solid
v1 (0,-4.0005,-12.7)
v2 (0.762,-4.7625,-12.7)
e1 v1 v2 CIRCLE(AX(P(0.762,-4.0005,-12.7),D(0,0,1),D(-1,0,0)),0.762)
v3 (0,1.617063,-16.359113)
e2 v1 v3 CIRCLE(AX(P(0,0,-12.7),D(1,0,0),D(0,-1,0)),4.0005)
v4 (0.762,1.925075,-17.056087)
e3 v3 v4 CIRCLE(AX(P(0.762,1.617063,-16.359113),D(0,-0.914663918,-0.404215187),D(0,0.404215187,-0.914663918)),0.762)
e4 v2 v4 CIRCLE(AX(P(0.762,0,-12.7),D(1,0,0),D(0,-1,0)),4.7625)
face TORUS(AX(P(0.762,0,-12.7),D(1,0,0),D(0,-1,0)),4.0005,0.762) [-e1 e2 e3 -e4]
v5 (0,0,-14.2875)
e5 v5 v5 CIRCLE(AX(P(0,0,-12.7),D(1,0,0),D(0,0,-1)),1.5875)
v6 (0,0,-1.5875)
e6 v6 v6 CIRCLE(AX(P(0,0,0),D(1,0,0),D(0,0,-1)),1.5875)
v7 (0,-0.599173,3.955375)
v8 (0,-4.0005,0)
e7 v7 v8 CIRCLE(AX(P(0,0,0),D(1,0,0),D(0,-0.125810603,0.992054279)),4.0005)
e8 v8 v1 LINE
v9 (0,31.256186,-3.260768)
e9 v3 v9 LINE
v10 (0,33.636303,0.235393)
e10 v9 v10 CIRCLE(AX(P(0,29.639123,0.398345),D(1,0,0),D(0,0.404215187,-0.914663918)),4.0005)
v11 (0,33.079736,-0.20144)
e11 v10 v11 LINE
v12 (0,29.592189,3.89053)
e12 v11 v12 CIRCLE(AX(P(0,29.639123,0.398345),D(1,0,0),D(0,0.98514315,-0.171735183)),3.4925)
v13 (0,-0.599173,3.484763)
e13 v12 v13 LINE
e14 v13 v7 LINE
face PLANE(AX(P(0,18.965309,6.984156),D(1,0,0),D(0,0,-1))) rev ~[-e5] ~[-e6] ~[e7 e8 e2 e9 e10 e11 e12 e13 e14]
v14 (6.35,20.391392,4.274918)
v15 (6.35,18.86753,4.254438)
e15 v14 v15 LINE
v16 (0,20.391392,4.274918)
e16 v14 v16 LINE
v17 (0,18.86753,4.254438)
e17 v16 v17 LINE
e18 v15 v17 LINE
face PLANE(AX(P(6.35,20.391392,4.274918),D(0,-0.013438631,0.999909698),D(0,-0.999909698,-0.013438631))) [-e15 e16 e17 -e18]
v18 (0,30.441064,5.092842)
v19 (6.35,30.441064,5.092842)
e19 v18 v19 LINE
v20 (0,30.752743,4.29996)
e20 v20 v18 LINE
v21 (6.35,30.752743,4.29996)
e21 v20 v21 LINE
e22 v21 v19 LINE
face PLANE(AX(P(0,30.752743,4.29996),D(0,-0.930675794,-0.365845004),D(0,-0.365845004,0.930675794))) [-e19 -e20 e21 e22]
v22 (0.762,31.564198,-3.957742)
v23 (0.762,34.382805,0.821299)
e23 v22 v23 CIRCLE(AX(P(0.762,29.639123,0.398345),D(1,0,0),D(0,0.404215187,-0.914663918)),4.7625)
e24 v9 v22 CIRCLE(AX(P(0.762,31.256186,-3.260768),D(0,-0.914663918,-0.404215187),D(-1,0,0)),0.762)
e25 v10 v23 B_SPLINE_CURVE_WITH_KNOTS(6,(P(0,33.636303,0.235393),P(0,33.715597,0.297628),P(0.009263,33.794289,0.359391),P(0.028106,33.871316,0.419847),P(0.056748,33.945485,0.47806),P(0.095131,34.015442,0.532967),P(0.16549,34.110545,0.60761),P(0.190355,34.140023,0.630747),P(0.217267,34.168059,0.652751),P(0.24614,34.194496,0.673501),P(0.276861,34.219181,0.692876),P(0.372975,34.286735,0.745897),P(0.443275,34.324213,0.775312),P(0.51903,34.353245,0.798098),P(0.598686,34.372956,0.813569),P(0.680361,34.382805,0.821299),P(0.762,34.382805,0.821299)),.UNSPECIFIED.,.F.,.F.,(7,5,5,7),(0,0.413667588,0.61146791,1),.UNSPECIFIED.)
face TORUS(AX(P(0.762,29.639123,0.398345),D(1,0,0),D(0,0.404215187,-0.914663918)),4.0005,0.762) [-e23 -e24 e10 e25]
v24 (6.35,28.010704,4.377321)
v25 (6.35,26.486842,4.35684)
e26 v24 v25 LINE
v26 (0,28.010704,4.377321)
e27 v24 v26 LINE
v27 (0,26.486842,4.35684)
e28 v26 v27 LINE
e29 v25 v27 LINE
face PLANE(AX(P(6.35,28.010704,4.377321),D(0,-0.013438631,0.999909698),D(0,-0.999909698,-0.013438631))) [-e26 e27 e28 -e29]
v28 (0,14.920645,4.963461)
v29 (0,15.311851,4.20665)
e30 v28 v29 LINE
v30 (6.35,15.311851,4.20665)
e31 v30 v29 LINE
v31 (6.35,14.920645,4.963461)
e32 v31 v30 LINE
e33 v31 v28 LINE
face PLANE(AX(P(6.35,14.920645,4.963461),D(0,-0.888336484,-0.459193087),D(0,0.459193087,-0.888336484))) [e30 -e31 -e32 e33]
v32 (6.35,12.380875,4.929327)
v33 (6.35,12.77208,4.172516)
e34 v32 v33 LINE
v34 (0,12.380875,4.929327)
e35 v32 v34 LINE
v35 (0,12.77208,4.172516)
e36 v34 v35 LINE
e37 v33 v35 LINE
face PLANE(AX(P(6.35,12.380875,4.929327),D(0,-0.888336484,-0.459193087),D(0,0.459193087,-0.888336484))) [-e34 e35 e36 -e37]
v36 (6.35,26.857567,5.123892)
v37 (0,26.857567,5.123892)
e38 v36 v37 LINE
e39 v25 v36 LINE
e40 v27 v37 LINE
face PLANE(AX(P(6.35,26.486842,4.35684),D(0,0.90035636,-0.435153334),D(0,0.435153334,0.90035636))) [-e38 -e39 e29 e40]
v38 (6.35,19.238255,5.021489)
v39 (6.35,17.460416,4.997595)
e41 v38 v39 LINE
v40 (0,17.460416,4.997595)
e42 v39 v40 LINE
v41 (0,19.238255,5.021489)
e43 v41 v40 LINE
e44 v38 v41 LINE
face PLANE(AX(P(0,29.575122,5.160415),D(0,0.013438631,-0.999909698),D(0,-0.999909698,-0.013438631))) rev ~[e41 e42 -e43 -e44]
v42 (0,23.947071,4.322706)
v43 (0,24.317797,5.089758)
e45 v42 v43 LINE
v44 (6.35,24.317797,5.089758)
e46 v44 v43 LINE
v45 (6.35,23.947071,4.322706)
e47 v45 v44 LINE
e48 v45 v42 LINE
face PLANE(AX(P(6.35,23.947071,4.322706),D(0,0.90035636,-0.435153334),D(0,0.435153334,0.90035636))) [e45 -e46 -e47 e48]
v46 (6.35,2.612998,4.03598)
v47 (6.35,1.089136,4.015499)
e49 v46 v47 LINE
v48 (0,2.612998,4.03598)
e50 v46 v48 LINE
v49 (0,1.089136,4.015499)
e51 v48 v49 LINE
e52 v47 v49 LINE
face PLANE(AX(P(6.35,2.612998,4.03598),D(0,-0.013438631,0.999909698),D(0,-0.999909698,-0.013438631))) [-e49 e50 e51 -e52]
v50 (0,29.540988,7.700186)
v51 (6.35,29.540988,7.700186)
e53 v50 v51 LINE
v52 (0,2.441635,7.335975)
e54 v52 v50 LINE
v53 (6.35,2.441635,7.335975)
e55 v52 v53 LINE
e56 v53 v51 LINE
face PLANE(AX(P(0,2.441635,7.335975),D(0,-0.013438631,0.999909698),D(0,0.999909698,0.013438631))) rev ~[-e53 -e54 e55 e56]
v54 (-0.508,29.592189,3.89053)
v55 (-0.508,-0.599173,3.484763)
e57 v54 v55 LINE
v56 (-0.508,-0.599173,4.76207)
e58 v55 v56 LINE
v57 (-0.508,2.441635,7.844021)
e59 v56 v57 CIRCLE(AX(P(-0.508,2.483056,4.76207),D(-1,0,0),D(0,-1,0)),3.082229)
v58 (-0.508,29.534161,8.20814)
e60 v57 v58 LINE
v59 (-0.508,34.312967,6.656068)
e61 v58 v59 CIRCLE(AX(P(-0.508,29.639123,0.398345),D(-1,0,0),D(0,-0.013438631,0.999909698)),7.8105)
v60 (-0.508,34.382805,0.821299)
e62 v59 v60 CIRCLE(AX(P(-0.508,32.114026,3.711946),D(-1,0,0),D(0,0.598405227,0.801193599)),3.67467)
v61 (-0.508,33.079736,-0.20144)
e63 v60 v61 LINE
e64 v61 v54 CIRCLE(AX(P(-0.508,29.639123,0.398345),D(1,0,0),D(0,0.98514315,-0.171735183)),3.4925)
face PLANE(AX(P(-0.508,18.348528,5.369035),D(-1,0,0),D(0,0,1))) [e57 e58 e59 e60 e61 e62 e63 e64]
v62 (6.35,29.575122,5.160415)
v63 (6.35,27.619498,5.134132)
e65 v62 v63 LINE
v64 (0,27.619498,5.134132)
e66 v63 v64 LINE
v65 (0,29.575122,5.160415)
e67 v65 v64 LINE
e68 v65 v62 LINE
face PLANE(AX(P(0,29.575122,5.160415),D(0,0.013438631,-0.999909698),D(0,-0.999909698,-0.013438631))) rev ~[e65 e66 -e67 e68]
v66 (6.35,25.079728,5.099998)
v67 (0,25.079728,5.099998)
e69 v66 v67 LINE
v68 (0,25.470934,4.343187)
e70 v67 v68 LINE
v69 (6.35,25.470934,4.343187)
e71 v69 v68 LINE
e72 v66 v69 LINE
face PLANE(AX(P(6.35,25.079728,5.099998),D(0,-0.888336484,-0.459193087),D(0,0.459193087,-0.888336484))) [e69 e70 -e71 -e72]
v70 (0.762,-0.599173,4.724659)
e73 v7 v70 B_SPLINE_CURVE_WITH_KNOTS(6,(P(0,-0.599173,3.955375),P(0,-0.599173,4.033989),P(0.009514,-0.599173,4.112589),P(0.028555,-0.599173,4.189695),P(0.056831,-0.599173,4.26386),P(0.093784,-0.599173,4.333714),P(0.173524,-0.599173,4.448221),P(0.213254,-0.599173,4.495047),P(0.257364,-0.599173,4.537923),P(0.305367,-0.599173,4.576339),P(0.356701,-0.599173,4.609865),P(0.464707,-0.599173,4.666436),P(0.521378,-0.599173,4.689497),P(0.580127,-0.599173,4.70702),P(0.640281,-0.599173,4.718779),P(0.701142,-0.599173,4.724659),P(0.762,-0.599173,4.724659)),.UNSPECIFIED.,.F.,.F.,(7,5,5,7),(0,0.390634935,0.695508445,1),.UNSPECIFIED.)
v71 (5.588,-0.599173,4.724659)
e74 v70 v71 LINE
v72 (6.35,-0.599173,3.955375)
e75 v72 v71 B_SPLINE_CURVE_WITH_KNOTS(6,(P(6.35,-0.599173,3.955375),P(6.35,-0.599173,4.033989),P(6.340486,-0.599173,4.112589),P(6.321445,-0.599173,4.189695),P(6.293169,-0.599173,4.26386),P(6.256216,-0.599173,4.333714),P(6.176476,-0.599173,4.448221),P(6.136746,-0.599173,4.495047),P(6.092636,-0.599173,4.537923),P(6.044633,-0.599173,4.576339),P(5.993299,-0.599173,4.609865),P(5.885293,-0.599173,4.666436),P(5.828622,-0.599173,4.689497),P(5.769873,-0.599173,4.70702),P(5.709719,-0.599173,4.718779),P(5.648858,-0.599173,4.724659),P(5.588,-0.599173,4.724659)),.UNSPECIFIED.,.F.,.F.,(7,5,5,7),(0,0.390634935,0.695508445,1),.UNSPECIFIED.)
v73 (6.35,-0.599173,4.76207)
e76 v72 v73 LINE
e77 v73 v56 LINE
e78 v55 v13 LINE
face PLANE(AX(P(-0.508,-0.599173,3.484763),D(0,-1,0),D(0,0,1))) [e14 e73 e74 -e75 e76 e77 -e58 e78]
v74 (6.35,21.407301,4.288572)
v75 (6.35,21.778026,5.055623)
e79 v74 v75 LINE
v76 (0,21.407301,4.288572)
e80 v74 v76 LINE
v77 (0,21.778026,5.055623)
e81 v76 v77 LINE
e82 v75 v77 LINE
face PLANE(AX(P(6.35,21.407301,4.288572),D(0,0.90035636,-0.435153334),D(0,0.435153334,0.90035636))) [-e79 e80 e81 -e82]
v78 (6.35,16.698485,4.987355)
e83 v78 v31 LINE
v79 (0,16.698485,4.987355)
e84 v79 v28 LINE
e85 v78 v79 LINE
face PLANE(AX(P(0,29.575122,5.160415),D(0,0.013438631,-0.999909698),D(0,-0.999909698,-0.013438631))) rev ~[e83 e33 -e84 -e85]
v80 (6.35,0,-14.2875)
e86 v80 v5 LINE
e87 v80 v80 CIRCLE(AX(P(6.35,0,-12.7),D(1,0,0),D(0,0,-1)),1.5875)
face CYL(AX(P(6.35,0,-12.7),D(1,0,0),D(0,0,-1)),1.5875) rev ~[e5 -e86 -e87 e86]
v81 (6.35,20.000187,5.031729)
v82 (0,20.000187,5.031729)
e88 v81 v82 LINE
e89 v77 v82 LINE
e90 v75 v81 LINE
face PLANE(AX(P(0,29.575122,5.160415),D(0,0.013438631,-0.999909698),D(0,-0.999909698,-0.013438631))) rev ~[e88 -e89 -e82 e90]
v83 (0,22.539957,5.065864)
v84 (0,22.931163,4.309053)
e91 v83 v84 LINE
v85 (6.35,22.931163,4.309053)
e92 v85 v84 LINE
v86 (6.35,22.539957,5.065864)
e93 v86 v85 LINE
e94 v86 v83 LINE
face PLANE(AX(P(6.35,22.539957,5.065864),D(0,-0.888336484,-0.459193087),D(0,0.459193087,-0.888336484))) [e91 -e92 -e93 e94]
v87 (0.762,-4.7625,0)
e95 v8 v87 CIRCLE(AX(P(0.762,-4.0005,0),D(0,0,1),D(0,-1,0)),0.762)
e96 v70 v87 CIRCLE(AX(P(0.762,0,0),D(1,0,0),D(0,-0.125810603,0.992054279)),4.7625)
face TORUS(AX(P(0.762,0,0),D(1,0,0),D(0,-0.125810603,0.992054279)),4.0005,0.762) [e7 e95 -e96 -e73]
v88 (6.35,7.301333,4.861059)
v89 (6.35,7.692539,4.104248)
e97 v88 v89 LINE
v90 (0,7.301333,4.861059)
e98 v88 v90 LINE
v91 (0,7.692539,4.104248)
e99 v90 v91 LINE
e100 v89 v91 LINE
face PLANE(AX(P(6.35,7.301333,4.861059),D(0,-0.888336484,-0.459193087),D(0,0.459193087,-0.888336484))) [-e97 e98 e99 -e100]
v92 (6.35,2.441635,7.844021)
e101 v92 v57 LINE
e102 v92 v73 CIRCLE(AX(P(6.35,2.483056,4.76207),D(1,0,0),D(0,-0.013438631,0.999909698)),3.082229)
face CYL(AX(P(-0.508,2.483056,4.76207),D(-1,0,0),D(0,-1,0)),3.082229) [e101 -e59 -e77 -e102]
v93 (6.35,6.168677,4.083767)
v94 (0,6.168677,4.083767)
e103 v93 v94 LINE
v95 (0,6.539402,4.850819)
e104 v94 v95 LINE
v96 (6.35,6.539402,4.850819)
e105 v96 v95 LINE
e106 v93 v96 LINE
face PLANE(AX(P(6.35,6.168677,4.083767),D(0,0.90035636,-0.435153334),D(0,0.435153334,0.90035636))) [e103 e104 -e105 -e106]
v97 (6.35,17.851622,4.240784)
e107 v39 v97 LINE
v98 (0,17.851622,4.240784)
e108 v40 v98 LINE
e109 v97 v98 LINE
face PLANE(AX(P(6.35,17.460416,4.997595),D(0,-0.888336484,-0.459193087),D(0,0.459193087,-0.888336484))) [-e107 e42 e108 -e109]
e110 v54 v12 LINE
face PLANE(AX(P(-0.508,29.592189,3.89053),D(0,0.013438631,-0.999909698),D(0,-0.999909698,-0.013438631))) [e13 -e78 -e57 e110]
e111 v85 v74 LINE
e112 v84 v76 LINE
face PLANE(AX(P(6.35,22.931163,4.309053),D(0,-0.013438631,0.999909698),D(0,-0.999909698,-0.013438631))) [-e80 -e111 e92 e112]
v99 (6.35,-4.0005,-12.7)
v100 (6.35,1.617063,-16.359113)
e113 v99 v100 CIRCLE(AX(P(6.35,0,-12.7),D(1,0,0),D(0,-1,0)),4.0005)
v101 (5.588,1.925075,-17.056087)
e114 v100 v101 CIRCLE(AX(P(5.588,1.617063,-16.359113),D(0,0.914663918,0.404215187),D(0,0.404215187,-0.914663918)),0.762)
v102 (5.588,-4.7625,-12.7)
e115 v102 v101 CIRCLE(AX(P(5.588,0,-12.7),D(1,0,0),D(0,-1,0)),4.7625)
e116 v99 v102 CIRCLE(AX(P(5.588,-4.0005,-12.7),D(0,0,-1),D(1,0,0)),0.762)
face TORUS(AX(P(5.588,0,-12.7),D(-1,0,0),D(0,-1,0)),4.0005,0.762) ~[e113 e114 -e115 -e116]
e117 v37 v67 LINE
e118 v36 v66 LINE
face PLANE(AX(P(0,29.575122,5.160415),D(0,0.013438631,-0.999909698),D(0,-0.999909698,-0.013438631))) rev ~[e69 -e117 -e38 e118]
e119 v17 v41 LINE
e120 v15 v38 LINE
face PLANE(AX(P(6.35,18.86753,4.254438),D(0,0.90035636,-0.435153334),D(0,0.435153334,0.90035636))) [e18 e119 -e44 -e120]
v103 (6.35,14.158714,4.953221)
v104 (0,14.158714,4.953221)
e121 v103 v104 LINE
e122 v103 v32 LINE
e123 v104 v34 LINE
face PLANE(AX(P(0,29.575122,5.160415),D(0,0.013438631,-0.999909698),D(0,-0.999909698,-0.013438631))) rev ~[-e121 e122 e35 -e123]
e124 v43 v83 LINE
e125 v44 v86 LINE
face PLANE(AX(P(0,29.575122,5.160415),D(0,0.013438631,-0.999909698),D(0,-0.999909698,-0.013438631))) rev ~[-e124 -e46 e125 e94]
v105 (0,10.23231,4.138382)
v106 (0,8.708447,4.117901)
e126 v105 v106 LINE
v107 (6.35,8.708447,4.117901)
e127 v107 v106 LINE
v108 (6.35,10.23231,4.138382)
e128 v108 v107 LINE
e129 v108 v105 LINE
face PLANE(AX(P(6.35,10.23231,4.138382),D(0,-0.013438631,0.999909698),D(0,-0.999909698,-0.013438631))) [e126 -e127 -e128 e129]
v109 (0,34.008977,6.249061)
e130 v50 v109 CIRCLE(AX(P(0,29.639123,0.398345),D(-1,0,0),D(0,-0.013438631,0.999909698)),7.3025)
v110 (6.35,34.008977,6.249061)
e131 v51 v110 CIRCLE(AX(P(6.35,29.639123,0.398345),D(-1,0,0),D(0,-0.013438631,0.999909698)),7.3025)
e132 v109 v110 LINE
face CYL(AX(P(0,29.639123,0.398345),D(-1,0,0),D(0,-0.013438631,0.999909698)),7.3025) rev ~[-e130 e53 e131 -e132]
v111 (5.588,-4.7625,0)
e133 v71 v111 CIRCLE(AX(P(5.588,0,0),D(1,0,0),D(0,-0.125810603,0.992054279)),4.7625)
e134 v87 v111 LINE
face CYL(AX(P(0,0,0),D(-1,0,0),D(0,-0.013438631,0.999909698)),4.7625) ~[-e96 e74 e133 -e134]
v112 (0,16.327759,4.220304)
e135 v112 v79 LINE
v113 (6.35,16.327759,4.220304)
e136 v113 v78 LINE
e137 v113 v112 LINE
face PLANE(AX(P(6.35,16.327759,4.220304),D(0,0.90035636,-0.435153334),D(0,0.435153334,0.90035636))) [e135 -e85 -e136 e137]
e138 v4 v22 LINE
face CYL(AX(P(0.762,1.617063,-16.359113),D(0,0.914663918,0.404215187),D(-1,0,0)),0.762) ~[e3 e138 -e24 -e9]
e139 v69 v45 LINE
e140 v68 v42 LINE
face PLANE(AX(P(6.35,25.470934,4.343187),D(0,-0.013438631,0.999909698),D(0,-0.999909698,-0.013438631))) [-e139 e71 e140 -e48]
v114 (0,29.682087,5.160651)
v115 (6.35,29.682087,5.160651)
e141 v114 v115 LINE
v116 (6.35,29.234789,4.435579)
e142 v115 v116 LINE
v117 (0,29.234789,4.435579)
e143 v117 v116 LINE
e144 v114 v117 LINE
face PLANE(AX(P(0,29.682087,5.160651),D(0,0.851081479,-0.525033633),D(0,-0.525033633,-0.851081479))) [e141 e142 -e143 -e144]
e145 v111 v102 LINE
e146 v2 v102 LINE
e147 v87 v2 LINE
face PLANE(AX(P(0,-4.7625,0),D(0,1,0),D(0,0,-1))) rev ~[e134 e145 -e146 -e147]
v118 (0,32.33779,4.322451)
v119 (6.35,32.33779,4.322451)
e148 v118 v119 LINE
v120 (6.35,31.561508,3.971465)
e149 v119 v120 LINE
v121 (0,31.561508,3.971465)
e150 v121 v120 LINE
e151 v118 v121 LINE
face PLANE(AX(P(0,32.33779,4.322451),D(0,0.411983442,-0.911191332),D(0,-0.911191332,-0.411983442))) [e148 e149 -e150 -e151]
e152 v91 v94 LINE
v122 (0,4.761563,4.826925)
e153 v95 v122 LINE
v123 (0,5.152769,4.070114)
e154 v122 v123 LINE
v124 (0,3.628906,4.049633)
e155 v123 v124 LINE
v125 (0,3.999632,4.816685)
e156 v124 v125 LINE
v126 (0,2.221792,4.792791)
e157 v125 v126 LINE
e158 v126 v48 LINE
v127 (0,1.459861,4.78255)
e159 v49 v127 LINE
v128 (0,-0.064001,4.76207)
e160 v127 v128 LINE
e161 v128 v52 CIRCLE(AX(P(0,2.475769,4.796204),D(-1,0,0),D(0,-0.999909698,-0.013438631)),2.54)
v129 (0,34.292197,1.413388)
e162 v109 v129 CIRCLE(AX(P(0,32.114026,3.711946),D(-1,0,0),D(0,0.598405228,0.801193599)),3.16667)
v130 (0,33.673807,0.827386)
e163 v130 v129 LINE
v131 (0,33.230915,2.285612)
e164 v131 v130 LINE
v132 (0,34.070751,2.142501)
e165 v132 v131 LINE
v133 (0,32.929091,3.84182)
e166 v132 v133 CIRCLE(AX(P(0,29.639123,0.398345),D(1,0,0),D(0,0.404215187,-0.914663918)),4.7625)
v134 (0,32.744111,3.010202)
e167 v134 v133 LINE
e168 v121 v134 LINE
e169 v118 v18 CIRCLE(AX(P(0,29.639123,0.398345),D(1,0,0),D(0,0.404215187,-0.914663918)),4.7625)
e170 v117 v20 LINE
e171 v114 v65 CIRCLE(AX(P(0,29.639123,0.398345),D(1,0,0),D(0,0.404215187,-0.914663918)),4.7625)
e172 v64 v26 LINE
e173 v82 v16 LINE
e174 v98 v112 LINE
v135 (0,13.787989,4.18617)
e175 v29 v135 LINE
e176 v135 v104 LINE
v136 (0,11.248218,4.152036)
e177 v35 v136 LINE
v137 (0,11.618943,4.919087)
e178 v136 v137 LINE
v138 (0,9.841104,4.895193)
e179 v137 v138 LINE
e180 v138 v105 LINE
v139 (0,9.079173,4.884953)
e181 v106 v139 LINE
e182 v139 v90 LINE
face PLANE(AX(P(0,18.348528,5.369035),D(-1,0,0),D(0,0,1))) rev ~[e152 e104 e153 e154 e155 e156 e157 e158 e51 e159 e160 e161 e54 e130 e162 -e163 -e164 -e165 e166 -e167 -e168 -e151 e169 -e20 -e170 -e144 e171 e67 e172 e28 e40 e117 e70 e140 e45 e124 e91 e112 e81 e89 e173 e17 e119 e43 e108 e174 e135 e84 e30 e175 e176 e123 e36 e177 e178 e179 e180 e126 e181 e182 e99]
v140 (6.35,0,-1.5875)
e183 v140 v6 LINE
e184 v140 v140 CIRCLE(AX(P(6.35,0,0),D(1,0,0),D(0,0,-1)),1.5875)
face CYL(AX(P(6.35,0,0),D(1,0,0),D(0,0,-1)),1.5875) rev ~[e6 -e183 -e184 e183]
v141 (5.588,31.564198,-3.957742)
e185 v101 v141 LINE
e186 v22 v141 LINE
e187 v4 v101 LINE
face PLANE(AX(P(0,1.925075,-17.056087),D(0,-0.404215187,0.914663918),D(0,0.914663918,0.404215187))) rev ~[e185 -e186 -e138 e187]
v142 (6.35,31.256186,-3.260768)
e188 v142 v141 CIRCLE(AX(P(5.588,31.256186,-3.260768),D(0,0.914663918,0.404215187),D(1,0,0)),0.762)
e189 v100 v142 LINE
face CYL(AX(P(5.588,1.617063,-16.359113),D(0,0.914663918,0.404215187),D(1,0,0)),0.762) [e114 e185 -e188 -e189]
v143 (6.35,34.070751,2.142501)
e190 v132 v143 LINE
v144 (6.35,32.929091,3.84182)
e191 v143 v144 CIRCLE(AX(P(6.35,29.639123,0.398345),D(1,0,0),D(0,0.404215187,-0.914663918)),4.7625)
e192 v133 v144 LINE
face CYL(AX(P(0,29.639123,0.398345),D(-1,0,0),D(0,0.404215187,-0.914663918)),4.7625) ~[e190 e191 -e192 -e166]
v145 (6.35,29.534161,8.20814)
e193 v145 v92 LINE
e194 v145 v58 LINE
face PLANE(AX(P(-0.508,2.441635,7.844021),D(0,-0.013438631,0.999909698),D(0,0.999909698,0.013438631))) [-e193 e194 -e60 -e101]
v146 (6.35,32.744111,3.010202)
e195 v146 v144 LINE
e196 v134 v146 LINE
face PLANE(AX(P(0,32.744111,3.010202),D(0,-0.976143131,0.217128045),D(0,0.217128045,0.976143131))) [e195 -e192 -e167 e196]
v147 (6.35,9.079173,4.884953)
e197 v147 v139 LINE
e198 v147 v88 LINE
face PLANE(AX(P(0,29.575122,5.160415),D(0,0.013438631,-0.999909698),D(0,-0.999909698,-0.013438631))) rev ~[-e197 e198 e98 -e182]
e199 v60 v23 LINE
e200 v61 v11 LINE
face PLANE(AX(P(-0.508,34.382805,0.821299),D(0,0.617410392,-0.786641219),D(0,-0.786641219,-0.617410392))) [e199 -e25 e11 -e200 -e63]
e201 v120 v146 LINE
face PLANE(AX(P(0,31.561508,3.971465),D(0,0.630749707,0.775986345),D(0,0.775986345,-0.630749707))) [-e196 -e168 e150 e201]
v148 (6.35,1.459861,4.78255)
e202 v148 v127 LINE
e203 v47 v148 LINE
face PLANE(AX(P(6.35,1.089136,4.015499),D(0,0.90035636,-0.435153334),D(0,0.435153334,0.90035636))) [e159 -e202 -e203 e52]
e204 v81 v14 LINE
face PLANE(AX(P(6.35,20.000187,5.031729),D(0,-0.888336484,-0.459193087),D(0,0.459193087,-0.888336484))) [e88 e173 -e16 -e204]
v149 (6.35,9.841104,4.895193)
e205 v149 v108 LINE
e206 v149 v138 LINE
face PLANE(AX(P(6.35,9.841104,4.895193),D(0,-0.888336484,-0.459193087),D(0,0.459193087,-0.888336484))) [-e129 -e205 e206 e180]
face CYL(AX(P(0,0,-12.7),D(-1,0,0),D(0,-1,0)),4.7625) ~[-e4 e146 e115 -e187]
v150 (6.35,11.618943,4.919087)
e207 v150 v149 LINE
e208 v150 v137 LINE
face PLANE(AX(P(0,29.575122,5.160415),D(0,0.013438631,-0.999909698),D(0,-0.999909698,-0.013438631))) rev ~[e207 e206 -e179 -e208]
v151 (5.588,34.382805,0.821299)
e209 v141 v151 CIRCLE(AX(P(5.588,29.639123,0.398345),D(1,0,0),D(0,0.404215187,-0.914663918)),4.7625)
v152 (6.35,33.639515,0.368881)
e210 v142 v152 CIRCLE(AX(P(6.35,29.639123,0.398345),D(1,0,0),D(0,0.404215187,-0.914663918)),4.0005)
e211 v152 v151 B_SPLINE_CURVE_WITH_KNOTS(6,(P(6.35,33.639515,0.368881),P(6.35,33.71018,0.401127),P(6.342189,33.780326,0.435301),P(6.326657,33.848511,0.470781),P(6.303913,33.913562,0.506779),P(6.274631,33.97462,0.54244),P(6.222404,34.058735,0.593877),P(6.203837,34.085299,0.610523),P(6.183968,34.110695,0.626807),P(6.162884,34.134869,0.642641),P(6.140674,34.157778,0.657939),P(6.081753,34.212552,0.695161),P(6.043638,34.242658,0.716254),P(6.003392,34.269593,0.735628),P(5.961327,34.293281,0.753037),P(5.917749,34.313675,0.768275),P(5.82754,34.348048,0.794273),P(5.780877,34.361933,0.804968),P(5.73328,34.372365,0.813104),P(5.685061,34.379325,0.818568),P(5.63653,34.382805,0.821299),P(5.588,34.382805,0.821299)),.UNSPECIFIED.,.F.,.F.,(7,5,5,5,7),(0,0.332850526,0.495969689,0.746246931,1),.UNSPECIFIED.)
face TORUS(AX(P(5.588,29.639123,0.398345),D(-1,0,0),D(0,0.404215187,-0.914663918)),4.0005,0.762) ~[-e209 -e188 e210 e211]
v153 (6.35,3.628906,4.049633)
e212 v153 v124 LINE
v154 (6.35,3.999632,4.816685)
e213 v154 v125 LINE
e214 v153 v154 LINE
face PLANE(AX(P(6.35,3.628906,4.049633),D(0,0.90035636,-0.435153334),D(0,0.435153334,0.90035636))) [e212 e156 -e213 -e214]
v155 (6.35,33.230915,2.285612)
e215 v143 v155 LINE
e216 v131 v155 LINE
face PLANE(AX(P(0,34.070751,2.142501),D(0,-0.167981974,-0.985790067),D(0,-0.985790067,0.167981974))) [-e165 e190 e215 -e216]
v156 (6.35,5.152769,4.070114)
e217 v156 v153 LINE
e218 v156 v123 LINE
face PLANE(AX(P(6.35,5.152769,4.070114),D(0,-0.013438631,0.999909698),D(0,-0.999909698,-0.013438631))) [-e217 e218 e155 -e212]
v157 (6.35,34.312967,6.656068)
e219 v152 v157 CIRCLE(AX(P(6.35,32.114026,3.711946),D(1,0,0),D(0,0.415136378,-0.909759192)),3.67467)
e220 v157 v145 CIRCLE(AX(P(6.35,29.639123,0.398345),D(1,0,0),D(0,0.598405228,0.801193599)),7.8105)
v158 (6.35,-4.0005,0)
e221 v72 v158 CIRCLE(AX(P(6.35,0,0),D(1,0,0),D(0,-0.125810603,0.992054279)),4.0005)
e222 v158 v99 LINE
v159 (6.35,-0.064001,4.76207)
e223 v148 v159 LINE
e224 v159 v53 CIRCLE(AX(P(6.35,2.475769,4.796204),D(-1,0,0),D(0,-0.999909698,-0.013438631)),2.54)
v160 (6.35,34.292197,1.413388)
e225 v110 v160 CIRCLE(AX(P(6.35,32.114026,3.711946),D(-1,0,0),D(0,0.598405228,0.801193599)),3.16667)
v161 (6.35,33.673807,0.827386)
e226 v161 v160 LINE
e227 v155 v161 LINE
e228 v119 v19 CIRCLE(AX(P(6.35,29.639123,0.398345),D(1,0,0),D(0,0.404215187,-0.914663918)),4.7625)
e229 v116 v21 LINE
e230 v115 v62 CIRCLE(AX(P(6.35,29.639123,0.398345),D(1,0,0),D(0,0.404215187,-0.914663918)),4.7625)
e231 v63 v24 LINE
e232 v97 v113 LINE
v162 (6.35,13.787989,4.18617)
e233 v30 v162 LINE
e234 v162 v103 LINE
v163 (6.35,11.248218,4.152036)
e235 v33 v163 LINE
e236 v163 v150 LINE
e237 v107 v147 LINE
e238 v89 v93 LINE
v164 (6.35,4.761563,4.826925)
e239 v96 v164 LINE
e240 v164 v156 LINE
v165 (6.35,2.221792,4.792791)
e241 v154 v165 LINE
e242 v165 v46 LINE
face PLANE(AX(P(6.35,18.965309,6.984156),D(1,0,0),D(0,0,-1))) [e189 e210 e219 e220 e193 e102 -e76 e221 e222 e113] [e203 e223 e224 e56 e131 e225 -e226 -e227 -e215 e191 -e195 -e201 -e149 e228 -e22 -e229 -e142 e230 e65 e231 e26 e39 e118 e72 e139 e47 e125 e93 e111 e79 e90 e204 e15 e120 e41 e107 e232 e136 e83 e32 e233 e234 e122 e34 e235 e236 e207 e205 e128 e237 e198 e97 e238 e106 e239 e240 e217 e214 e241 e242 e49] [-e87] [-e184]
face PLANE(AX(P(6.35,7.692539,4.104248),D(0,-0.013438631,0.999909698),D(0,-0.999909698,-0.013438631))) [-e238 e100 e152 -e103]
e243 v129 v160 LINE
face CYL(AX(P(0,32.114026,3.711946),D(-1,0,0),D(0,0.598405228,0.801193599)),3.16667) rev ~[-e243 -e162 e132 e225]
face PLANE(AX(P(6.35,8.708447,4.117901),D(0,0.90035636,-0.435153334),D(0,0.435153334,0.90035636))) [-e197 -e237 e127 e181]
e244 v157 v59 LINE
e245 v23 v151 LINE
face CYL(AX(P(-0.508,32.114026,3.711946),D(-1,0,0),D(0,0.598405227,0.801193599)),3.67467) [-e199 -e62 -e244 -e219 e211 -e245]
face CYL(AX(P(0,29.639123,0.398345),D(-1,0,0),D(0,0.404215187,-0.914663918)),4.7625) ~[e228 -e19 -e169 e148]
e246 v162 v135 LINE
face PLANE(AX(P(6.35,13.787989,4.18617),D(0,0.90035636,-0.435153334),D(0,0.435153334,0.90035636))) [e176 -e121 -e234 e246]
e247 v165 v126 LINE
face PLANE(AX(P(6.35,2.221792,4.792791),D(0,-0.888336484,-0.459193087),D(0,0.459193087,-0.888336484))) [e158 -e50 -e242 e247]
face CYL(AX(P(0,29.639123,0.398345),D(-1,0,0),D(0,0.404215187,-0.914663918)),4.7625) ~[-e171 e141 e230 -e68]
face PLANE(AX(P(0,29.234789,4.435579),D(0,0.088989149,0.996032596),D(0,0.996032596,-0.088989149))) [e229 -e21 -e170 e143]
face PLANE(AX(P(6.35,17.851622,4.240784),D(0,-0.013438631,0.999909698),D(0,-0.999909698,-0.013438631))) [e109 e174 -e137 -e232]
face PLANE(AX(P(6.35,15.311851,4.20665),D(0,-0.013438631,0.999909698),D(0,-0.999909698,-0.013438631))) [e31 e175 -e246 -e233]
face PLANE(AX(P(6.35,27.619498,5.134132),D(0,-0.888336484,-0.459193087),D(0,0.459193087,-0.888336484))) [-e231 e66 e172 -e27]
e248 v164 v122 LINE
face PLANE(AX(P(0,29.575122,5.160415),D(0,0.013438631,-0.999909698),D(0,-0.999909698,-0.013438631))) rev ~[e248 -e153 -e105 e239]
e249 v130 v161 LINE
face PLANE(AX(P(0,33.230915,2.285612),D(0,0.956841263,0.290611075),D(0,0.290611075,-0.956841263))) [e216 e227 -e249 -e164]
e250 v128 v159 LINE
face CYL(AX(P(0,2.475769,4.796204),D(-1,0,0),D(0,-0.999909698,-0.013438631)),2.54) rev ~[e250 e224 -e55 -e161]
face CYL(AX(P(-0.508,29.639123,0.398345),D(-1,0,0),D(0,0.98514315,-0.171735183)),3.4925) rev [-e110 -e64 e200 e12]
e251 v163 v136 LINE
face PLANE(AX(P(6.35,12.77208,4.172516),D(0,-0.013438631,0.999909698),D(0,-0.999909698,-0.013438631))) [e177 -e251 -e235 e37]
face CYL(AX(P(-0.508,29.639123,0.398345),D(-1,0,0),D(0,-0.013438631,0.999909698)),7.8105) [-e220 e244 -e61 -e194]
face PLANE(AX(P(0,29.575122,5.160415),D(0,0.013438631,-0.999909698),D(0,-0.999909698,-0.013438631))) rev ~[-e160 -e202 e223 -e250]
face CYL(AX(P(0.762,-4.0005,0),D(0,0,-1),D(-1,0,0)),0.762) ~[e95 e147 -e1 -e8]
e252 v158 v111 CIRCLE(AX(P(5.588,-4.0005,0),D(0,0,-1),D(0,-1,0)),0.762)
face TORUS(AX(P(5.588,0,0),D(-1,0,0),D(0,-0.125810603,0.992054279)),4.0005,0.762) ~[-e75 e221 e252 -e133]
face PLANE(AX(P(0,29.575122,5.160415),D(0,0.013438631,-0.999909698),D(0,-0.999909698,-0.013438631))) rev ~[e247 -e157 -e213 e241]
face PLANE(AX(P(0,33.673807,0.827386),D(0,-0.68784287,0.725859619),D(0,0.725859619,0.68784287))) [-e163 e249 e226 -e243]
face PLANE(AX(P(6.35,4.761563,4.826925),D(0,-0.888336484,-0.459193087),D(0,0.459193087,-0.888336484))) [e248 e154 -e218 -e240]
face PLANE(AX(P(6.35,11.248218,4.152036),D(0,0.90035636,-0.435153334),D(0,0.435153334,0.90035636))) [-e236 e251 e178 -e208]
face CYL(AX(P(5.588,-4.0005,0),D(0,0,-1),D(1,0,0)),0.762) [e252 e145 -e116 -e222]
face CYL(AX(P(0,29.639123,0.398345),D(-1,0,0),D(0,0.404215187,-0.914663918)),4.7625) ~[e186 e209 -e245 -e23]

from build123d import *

# Parameters (mm, degrees)
BOSS_EXTRUDE1_DEPTH = 6.35
SKETCH2_R           = 1.5875
CUT_EXTRUDE1_DEPTH  = 38.1
CUT_EXTRUDE2_DEPTH  = 6.35
LPATTERN1_COUNT     = 11
LPATTERN1_PITCH     = 2.54
CUT_EXTRUDE3_START  = -6.35
CUT_EXTRUDE3_DEPTH  = 6.35
CIRPATTERN1_COUNT   = 3
CIRPATTERN1_ANGLE   = 68
BOSS_EXTRUDE2_DEPTH = 6.35
BOSS_EXTRUDE3_START = 0.508
BOSS_EXTRUDE3_DEPTH = 0.508
FILLET3_R           = 0.762


with BuildPart() as part:
    # Sketch1 → Boss-Extrude1 (new body)
    with BuildSketch(Plane(origin=(0, 0, 0), x_dir=(0, 0, -1), z_dir=(1, 0, 0))):
        with BuildLine():
            Line((0, -4.7625), (12.7, -4.7625))
            ThreePointArc((12.7, -4.7625), (16.69058737, -2.599349668), (17.05608691, 1.925074826))
            Line((17.05608691, 1.925074826), (3.957741706, 31.564198098))
            ThreePointArc((3.957741706, 31.564198098), (-1.413387908, 34.29219694), (-5.160415138, 29.575121793))
            Line((-5.160415138, 29.575121793), (-4.762069934, -0.064001479))
            ThreePointArc((-4.762069934, -0.064001479), (-3.344891568, -3.39014847), (0, -4.7625))
        make_face()
    extrude(amount=BOSS_EXTRUDE1_DEPTH)

    # Sketch2 → Cut-Extrude1 (cut)
    with BuildSketch(Plane(origin=(6.35, 0, 0), x_dir=(0, 0, -1), z_dir=(1, 0, 0))):
        Circle(SKETCH2_R)
        with Locations((12.7, 0)):
            Circle(SKETCH2_R)
    extrude(amount=-CUT_EXTRUDE1_DEPTH, mode=Mode.SUBTRACT)

    # Sketch3 → Cut-Extrude2 (cut)
    with BuildSketch(Plane(origin=(6.35, 0, 0), x_dir=(0, 0, -1), z_dir=(1, 0, 0))):
        Polygon((-4.782550408, 1.4598609), (-4.792790644, 2.22179209), (-4.035979573, 2.612997921), (-4.0154991, 1.089135542), align=None)
    cut_extrude2 = extrude(amount=-CUT_EXTRUDE2_DEPTH, mode=Mode.SUBTRACT)

    # LPattern1: Cut-Extrude2 ×11
    with Locations(*[Vector(0, 0.9999096975250266, 0.013438630711869543) * (i * LPATTERN1_PITCH) for i in range(1, LPATTERN1_COUNT)]):
        add(cut_extrude2, mode=Mode.SUBTRACT)

    # Sketch5 → Cut-Extrude3 (cut)
    with BuildSketch(Plane(origin=(6.35, 0, 0), x_dir=(0, 0, -1), z_dir=(1, 0, 0)).offset(CUT_EXTRUDE3_START)):
        with BuildLine():
            Line((-2.14250095, 34.070751301), (-2.285611832, 33.230915438))
            Line((-2.285611832, 33.230915438), (-0.827385747, 33.673806717))
            Line((-0.827385747, 33.673806717), (-1.413387908, 34.29219694))
            ThreePointArc((-1.413387908, 34.29219694), (-1.782380451, 34.196079788), (-2.14250095, 34.070751301))
        make_face()
    cut_extrude3 = extrude(amount=CUT_EXTRUDE3_DEPTH, mode=Mode.SUBTRACT)

    # CirPattern1: Cut-Extrude3 ×3 about axis
    cirpattern1_axis = Axis((0, 29.639123272, 0.398345204), (1, 0, 0))
    for i in range(1, CIRPATTERN1_COUNT):
        add(cut_extrude3.rotate(cirpattern1_axis, i * CIRPATTERN1_ANGLE / (CIRPATTERN1_COUNT - 1)), mode=Mode.SUBTRACT)

    # Sketch6 → Boss-Extrude2 (add)
    with BuildSketch(Plane(origin=(0, 0, 0), x_dir=(0, 0, -1), z_dir=(1, 0, 0))):
        with BuildLine():
            Line((-7.335974688, 2.441635031), (-7.70018577, 29.540987671))
            ThreePointArc((-7.70018577, 29.540987671), (-7.343715671, 31.89485715), (-6.249061464, 34.008977446))
            ThreePointArc((-6.249061464, 34.008977446), (-3.897096462, 35.275278165), (-1.413387908, 34.29219694))
            ThreePointArc((-1.413387908, 34.29219694), (-1.118769293, 34.346818609), (-0.821298902, 34.382805009))
            ThreePointArc((-0.821298902, 34.382805009), (-3.75592559, 35.788432355), (-6.656067812, 34.312967301))
            ThreePointArc((-6.656067812, 34.312967301), (-7.826871877, 32.051777768), (-8.208139896, 29.534160847))
            Line((-8.208139896, 29.534160847), (-7.844020566, 2.441635031))
            ThreePointArc((-7.844020566, 2.441635031), (-6.92684089, 0.288995326), (-4.762069934, -0.599172997))
            Line((-4.762069934, -0.599172997), (-4.724658503, -0.599172997))
            ThreePointArc((-4.724658503, -0.599172997), (-4.750905835, -0.332114438), (-4.762069934, -0.064001479))
            ThreePointArc((-4.762069934, -0.064001479), (-6.567956624, 0.655743647), (-7.335974688, 2.441635031))
        make_face()
    extrude(amount=BOSS_EXTRUDE2_DEPTH)

    # Sketch7 → Boss-Extrude3 (add)
    with BuildSketch(Plane.ZY.offset(BOSS_EXTRUDE3_START)):
        with BuildLine():
            Line((3.890529822, 29.592188854), (3.484762618, -0.599172997))
            Line((3.484762618, -0.599172997), (4.762069934, -0.599172997))
            ThreePointArc((4.762069934, -0.599172997), (6.92684089, 0.288995326), (7.844020566, 2.441635031))
            Line((7.844020566, 2.441635031), (8.208139896, 29.534160847))
            ThreePointArc((8.208139896, 29.534160847), (7.826871877, 32.051777768), (6.656067812, 34.312967301))
            ThreePointArc((6.656067812, 34.312967301), (3.75592559, 35.788432355), (0.821298902, 34.382805009))
            Line((0.821298902, 34.382805009), (-0.201439925, 33.079735725))
            ThreePointArc((-0.201439925, 33.079735725), (2.663789861, 32.297189628), (3.890529822, 29.592188854))
        make_face()
    extrude(amount=-BOSS_EXTRUDE3_DEPTH)

    # Fillet3
    fillet3_edges = [part.edges().sort_by_distance(p)[0] for p in [
        (6.35, -2.599349668, -16.69058737),
        (6.35, 16.744636462, -10.506914308),
        (6.35, 33.741303888, -2.021059773),
        (0, -3.573161601, 3.148638186),
        (6.35, -3.573161601, 3.148638186),
        (0, 33.741303888, -2.021059773),
        (0, 16.744636462, -10.506914308),
        (6.35, -4.7625, -6.35),
        (0, -2.599349668, -16.69058737),
        (0, -4.7625, -6.35),
    ]]
    fillet(fillet3_edges, radius=FILLET3_R)


solid = part.part
